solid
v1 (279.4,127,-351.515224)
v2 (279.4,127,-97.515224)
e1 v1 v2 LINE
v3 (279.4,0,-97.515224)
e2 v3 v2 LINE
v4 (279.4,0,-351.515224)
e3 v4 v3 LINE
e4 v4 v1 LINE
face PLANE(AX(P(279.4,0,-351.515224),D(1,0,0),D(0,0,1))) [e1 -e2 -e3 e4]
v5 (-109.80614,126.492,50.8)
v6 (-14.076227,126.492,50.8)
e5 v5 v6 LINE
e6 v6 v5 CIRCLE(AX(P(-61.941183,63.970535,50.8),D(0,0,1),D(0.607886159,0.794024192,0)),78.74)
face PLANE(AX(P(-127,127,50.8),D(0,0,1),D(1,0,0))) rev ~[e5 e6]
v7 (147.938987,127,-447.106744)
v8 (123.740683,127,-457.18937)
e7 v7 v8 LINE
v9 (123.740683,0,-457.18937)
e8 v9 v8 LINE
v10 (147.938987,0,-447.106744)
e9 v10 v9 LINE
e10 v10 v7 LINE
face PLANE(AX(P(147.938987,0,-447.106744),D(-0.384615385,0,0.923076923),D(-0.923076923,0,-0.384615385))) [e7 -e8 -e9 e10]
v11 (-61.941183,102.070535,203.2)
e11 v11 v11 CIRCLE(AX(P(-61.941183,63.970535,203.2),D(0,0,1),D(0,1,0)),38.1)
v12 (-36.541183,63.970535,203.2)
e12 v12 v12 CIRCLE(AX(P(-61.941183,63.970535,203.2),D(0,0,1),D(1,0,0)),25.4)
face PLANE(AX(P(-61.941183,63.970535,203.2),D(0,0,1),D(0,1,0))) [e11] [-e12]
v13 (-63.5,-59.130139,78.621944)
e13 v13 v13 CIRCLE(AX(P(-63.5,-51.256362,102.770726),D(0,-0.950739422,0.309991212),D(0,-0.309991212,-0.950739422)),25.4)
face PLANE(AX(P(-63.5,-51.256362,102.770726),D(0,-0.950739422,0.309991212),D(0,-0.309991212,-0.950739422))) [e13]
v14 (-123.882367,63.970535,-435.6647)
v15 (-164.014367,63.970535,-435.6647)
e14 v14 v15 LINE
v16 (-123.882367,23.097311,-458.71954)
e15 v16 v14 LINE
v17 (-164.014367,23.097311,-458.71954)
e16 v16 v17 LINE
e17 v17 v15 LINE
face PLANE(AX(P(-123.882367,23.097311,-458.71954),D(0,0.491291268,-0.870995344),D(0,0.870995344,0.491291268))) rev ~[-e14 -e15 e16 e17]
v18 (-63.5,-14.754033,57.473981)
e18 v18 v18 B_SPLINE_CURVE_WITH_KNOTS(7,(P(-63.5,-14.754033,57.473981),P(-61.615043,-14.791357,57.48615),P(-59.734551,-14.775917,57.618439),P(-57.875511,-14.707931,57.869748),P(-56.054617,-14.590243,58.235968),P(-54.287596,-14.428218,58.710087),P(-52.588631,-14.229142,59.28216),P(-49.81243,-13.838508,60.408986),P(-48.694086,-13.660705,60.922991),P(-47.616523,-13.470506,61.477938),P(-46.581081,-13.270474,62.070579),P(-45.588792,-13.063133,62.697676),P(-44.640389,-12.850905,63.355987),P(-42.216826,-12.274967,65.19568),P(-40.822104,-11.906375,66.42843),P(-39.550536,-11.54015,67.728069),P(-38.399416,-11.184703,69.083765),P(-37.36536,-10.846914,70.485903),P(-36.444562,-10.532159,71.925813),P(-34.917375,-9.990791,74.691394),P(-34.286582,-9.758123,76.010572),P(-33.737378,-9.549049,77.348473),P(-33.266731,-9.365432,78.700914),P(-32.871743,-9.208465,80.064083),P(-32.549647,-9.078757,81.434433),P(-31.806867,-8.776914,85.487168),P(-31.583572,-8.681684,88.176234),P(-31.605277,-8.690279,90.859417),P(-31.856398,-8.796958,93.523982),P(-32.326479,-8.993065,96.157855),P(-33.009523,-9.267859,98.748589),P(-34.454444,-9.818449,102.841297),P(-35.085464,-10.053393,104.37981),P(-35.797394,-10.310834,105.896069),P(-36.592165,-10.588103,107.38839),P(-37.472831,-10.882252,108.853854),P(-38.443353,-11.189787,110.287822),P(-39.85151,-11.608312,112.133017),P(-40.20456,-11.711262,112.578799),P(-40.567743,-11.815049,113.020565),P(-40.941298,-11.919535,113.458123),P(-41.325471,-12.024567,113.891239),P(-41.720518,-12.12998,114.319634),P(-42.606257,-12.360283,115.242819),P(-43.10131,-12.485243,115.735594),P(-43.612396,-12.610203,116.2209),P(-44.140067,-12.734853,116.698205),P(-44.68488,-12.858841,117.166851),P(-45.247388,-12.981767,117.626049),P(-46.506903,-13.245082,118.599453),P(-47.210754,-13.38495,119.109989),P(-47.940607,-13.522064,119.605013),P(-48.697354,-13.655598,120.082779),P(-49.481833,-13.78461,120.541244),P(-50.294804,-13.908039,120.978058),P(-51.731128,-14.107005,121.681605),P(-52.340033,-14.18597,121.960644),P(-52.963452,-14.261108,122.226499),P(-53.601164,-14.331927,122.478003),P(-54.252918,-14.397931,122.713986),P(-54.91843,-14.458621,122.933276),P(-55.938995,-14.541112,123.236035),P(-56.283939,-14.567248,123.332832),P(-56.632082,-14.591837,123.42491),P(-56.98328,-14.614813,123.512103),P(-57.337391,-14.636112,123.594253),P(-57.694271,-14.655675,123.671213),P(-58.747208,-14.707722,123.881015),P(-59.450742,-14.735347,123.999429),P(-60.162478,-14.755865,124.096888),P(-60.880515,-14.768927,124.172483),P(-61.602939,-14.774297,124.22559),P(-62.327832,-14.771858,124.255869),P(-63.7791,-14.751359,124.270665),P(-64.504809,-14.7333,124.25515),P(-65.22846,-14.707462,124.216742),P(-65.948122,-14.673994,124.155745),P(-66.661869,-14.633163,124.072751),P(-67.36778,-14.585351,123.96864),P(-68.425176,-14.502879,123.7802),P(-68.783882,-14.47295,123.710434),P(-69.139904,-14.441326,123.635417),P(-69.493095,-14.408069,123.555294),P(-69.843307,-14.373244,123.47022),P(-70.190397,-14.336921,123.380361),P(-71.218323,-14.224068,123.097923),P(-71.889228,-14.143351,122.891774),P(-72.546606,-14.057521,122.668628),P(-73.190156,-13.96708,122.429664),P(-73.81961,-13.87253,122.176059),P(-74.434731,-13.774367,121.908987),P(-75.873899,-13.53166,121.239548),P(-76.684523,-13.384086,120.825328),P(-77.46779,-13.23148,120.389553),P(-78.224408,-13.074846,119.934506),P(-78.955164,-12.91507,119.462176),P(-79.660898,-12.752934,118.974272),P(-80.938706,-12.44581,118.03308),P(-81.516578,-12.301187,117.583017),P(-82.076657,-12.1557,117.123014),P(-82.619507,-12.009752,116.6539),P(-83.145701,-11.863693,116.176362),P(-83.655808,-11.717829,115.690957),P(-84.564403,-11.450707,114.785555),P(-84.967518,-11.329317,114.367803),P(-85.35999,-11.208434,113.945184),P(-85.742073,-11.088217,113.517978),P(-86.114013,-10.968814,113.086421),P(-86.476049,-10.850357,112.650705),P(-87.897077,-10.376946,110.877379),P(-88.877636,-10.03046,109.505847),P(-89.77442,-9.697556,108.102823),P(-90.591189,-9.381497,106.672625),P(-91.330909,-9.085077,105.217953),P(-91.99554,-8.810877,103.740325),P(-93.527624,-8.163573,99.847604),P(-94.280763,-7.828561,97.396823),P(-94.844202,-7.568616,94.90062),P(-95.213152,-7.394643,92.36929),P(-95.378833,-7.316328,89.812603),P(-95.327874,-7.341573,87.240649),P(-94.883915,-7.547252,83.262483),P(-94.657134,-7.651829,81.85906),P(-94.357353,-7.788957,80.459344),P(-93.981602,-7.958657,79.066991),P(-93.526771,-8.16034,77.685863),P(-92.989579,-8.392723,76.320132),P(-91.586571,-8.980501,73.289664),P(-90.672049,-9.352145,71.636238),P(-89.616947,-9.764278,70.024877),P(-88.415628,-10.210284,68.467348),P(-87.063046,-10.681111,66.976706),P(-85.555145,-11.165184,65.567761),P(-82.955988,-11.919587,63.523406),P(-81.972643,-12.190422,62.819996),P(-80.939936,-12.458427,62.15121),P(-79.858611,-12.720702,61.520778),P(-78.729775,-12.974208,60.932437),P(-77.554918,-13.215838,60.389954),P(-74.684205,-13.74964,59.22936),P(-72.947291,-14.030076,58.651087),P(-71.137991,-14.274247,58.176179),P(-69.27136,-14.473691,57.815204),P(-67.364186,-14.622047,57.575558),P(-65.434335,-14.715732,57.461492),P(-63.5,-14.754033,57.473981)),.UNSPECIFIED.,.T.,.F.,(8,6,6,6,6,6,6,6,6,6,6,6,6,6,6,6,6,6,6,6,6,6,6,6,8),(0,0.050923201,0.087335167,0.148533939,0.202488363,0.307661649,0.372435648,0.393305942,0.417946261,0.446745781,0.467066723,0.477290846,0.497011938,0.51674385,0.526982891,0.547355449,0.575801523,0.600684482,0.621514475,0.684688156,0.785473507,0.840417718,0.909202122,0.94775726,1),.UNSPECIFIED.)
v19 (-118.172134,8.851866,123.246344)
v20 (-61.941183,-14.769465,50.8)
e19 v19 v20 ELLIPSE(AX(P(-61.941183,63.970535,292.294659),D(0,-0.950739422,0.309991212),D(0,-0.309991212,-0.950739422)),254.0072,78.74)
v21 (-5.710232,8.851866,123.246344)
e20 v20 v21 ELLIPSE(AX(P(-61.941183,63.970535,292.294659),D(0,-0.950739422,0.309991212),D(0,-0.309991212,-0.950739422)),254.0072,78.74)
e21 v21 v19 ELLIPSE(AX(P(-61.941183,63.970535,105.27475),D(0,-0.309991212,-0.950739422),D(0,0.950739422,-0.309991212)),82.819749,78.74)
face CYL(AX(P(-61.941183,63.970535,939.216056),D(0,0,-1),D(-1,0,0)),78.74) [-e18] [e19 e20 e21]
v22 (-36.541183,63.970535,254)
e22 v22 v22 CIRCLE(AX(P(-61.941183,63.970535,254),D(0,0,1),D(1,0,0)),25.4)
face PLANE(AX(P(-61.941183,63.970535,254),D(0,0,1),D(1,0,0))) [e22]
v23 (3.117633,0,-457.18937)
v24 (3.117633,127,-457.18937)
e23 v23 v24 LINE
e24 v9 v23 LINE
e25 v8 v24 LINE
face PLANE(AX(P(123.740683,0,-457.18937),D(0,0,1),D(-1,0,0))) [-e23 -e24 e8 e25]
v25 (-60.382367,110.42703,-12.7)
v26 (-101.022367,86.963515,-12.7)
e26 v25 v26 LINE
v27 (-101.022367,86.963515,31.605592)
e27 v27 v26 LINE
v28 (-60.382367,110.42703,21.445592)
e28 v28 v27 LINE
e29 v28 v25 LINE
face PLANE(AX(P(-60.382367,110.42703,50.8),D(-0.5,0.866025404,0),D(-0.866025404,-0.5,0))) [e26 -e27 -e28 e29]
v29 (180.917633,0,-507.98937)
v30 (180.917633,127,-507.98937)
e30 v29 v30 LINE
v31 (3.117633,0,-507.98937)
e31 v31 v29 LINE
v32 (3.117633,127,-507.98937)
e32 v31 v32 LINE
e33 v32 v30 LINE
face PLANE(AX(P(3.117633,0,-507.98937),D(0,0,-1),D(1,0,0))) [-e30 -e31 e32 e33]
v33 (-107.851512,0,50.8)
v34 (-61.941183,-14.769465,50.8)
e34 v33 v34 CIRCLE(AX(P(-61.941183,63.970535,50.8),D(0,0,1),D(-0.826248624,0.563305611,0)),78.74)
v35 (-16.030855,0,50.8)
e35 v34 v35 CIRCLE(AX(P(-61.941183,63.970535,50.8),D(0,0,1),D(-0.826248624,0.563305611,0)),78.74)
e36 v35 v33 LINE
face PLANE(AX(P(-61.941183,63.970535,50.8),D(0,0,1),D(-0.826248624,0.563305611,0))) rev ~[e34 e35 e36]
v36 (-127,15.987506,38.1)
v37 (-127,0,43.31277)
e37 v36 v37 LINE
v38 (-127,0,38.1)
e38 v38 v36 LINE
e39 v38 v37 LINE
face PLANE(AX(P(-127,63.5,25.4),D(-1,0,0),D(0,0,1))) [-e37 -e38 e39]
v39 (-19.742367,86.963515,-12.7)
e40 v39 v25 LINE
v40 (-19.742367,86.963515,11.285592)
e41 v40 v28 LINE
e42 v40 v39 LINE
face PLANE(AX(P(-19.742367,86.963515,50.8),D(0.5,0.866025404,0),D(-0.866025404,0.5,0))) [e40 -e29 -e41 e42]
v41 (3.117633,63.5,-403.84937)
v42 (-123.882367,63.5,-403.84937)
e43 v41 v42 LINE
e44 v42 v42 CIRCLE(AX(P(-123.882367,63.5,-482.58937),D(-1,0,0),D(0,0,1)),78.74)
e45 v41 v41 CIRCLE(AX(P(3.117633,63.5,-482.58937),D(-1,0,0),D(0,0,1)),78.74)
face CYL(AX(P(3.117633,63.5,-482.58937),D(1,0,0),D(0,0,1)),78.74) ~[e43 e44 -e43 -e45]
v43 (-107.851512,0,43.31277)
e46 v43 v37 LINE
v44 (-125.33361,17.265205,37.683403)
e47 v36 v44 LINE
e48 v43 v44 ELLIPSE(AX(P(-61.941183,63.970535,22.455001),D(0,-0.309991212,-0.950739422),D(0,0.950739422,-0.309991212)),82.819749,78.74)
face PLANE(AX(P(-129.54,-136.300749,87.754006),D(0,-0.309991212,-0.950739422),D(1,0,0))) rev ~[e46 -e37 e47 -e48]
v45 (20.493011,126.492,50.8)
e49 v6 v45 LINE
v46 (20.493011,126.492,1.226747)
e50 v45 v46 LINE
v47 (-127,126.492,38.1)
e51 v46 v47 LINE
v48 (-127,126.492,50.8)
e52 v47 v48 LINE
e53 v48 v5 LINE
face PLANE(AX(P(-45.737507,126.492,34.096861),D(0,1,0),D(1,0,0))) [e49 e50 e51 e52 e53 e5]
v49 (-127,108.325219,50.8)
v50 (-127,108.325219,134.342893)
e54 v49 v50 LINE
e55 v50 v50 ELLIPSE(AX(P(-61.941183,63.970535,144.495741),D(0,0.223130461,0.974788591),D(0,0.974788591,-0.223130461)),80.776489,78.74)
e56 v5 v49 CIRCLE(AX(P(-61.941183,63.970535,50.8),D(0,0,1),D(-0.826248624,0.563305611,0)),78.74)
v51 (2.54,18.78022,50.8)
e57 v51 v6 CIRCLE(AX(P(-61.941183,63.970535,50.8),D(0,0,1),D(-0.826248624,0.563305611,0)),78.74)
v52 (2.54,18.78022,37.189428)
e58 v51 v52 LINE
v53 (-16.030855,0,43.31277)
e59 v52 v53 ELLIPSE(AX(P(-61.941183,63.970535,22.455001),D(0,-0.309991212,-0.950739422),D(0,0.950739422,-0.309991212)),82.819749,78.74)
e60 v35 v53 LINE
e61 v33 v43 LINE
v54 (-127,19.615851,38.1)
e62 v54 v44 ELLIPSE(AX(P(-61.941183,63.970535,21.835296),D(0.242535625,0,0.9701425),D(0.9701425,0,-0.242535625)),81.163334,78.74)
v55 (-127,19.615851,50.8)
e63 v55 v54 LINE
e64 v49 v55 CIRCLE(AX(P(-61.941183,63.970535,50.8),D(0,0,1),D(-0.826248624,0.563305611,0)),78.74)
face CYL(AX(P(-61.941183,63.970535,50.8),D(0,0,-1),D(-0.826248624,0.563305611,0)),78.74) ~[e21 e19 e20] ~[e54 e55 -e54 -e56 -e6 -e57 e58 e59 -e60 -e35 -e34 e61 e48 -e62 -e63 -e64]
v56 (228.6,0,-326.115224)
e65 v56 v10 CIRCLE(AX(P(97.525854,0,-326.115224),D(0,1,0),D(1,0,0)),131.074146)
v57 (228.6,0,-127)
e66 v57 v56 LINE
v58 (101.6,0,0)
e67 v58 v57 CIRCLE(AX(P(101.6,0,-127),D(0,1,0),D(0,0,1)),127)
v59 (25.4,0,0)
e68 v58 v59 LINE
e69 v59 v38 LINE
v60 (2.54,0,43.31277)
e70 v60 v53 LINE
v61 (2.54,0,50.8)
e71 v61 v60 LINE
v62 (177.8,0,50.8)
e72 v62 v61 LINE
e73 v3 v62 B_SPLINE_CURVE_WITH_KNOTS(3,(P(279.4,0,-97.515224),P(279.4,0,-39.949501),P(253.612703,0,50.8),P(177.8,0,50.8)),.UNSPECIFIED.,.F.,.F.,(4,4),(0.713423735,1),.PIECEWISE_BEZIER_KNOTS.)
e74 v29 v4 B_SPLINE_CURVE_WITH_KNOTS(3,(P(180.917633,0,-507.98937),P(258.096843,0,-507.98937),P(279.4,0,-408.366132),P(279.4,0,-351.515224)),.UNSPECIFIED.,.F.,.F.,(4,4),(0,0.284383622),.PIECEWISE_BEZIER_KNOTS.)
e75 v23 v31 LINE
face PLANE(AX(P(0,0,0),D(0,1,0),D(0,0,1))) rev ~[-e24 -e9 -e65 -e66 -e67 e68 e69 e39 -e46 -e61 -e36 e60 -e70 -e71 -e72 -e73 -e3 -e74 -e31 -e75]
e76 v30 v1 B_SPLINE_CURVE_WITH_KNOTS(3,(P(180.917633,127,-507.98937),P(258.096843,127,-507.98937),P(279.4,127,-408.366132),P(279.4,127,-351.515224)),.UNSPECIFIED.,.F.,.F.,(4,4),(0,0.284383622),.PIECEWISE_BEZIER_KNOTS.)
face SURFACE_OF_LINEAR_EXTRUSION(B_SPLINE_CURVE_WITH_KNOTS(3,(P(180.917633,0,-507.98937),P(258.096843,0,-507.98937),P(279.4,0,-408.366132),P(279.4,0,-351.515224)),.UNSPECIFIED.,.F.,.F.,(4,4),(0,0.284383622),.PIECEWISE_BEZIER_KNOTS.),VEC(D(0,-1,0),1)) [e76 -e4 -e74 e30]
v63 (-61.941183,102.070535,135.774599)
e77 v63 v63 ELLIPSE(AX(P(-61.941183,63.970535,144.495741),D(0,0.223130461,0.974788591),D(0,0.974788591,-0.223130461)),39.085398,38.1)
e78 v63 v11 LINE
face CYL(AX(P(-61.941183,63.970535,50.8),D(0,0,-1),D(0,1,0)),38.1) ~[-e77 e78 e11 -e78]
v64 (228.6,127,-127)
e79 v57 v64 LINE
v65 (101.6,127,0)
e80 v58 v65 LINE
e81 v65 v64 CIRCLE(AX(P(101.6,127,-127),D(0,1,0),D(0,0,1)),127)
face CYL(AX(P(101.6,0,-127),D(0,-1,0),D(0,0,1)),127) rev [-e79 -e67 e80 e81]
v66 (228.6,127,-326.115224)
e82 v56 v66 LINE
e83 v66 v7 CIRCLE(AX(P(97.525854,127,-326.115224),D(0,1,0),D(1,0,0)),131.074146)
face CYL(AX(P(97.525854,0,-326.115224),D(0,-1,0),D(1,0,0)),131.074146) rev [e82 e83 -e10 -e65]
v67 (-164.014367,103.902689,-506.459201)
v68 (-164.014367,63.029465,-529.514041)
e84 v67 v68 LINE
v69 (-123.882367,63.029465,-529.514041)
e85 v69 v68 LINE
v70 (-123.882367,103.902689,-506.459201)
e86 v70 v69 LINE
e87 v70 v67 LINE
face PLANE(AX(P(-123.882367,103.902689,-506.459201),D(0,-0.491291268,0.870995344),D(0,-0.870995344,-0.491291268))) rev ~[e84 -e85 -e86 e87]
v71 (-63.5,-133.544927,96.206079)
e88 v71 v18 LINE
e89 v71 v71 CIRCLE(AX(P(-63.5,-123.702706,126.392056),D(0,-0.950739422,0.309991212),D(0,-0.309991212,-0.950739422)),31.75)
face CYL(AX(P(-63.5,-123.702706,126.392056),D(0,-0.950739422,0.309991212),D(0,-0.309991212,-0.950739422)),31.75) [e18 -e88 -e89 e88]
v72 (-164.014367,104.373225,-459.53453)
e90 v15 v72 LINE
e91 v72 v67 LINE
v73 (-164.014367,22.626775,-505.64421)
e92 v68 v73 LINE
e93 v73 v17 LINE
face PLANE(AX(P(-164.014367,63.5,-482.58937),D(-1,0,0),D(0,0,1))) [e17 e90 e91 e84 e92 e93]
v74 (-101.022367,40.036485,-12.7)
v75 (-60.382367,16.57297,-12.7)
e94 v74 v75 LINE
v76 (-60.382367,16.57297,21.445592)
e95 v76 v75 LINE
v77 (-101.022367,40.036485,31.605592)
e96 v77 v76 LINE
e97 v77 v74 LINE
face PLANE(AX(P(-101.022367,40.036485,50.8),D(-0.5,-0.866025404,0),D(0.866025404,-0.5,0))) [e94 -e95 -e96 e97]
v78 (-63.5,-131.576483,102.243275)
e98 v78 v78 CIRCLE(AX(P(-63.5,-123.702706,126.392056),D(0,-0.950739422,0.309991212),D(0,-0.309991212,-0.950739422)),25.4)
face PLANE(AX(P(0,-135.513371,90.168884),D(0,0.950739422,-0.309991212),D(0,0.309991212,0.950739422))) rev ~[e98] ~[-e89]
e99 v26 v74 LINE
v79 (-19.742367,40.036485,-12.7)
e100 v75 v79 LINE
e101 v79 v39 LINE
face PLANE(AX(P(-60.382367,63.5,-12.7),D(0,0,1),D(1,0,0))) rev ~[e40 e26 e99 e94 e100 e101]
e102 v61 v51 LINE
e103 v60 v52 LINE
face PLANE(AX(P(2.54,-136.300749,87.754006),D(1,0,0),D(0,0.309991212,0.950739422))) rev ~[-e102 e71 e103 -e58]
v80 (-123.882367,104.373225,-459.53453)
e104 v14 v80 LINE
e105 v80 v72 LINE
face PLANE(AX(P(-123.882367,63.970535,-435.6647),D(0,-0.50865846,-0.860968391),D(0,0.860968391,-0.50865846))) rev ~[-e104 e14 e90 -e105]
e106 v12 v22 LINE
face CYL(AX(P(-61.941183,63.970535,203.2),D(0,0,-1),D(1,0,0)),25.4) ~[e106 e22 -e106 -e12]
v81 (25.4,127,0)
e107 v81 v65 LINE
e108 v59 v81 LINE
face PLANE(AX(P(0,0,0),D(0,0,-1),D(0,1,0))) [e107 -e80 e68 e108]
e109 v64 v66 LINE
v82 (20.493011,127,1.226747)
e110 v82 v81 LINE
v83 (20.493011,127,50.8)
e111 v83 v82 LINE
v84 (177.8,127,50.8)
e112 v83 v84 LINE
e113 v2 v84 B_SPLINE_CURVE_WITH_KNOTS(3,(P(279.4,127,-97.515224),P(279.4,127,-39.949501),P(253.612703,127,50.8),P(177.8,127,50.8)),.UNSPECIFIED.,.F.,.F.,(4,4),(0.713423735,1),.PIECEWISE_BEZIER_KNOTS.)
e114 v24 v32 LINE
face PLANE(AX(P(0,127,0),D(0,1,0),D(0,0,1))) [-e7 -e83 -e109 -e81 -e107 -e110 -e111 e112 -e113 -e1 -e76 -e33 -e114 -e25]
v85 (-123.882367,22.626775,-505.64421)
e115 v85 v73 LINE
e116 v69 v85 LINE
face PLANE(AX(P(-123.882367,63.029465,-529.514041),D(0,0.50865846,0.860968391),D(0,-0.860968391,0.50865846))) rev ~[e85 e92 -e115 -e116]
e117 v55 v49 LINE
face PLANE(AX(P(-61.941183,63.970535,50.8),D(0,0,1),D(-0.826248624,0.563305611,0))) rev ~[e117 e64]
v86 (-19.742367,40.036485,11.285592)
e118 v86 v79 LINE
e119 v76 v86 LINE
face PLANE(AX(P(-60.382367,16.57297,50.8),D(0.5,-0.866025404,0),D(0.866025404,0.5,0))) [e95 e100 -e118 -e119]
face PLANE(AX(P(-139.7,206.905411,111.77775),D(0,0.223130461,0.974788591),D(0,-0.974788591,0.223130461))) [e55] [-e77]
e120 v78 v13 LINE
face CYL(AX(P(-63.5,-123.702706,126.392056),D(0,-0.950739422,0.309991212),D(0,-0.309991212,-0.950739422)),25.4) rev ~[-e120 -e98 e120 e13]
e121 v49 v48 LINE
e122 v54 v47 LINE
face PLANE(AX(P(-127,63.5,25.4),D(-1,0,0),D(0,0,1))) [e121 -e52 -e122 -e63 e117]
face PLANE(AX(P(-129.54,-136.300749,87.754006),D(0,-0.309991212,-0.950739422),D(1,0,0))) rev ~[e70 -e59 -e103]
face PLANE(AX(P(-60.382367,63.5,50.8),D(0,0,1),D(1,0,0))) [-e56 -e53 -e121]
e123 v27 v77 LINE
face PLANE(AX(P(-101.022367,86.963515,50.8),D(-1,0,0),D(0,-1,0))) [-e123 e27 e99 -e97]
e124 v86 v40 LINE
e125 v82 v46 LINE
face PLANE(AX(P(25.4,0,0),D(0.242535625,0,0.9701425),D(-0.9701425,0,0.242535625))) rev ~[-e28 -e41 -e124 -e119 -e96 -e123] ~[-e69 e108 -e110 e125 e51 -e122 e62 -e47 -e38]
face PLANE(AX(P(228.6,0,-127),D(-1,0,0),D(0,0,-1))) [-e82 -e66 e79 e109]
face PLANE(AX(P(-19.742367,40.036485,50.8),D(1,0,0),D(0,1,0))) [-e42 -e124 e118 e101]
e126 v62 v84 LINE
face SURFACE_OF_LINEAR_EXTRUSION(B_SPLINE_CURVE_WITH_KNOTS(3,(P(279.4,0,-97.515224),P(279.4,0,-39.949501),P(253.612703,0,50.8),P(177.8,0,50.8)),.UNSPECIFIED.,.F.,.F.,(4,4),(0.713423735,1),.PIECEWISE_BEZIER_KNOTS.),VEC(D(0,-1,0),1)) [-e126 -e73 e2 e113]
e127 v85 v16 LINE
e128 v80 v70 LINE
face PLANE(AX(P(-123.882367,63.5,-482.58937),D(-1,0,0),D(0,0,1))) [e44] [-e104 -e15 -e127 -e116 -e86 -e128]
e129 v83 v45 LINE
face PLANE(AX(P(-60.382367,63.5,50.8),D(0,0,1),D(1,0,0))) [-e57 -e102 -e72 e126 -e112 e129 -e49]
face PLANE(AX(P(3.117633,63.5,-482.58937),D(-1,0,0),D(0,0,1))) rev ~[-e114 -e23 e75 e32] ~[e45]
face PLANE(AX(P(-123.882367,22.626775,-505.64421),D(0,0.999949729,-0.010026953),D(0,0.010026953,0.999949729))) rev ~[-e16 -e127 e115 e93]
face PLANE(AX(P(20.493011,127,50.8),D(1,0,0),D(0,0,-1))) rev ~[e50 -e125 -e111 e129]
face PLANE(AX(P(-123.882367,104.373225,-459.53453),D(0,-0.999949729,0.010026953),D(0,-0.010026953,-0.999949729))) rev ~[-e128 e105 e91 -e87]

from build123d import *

# Parameters (mm, degrees)
BOSS_EXTRUDE1_DEPTH      = 127
SKETCH2_R                = 78.74
BOSS_EXTRUDE2_DEPTH      = 127
BOSS_EXTRUDE3_DEPTH      = 40.132
SKETCH4_W                = 50.8
SKETCH4_H                = 127
BOSS_EXTRUDE4_DEPTH      = 127
CUT_EXTRUDE1_DEPTH       = 643.951973118
BOSS_EXTRUDE6_DEPTH      = 63.5
BOSS_EXTRUDE7_DEPTH      = 0.254
SKETCH10_R               = 78.74
BOSS_EXTRUDE8_DEPTH      = 127
CUT_EXTRUDE4_DEPTH       = 1270
SKETCH12_R               = 38.1
BOSS_EXTRUDE9_DEPTH      = 152.4
SKETCH13_R               = 25.4
BOSS_EXTRUDE10_DEPTH     = 50.8
BOSS_EXTRUDE11_DEPTH     = 127
CUT_EXTRUDE16_DEPTH      = 0.508
CUT_EXTRUDE17_REACH      = 733.584
CUT_EXTRUDE17_END_RADIUS = 78.74
SKETCH25_W               = 132.08
SKETCH25_H               = 81.28
SKETCH25_R               = 31.75
SKETCH26_R               = 25.4
CUT_EXTRUDE18_DEPTH      = 76.2


with BuildPart() as part:
    # Sketch1 → Boss-Extrude1 (new body)
    with BuildSketch(Plane(origin=(0, 0, 0), x_dir=(1, 0, 0), z_dir=(0, 1, 0))):
        with BuildLine():
            Line((0, 0), (76.2, 0))
            Line((76.2, 0), (101.6, 0))
            ThreePointArc((101.6, 0), (191.402561211, 37.197438789), (228.6, 127))
            Line((228.6, 127), (228.6, 326.115224022))
            ThreePointArc((228.6, 326.115224022), (206.586135695, 398.822078741), (147.938986841, 447.106743761))
            Line((147.938986841, 447.106743761), (123.740682893, 457.189370406))
            Line((123.740682893, 457.189370406), (3.117633302, 457.189370406))
            Line((3.117633302, 457.189370406), (3.117633302, 507.989370406))
            Line((3.117633302, 507.989370406), (130.117633302, 507.989370406))
            Line((130.117633302, 507.989370406), (180.917633302, 507.989370406))
            add(Edge.make_bspline(
                [(180.917633302, 507.989370406), (258.096842752, 507.989370406), (279.4, 408.366132146), (279.4, 351.515224022)],
                knots=[0, 0, 0, 0, 0.284383622, 0.284383622, 0.284383622, 0.284383622], degree=3))
            Line((279.4, 351.515224022), (279.4, 97.515224022))
            add(Edge.make_bspline(
                [(279.4, 97.515224022), (279.4, 39.949501281), (253.612703292, -50.8), (177.8, -50.8)],
                knots=[0.713423735, 0.713423735, 0.713423735, 0.713423735, 1, 1, 1, 1], degree=3))
            Line((177.8, -50.8), (127, -50.8))
            Line((127, -50.8), (0, -50.8))
            Line((0, -50.8), (0, 0))
        make_face()
    extrude(amount=BOSS_EXTRUDE1_DEPTH)

    # Sketch2 → Boss-Extrude2 (add)
    with BuildSketch(Plane.ZY.offset(-3.117633302)):
        with Locations((-482.589370406, 63.5)):
            Circle(SKETCH2_R)
    extrude(amount=BOSS_EXTRUDE2_DEPTH)

    # Sketch3 → Boss-Extrude3 (add)
    with BuildSketch(Plane.ZY.offset(123.882366698)):
        Polygon((-435.664699602, 63.970535124), (-459.534530374, 104.373224542), (-506.459201178, 103.902689418), (-529.514041209, 63.029464876), (-505.644210437, 22.626775458), (-458.719539633, 23.097310582), align=None)
    extrude(amount=BOSS_EXTRUDE3_DEPTH)

    # Sketch4 → Boss-Extrude4 (add)
    with BuildSketch(Plane.ZY):
        with Locations((25.4, 63.5)):
            Rectangle(SKETCH4_W, SKETCH4_H)
    extrude(amount=BOSS_EXTRUDE4_DEPTH)

    # Sketch5 → Cut-Extrude1 (cut, through all)
    with BuildSketch(Plane(origin=(0, 0, 0), x_dir=(-1, 0, 0), z_dir=(0, -1, 0))):
        Polygon((127, -38.1), (127, 0), (-25.4, 0), align=None)
    extrude(amount=-CUT_EXTRUDE1_DEPTH, mode=Mode.SUBTRACT)

    # Sketch7 → Boss-Extrude6 (add)
    with BuildSketch(Plane.XY.offset(50.8)):
        Polygon((-60.382366698, 110.42702988), (-101.022366698, 86.96351494), (-101.022366698, 40.03648506), (-60.382366698, 16.57297012), (-19.742366698, 40.03648506), (-19.742366698, 86.96351494), align=None)
    extrude(amount=-BOSS_EXTRUDE6_DEPTH)

    # Sketch9 → Boss-Extrude7 (add)
    with BuildSketch(Plane.XY.offset(50.8)):
        Polygon((-61.941183349, 110.42702988), (-102.581183349, 86.96351494), (-102.581183349, 40.03648506), (-61.941183349, 16.57297012), (-21.301183349, 40.03648506), (-21.301183349, 86.96351494), align=None)
    extrude(amount=BOSS_EXTRUDE7_DEPTH)

    # Sketch10 → Boss-Extrude8 (add)
    with BuildSketch(Plane.XY.offset(50.8)):
        with Locations(Location((-61.941183349, 63.970535124, 0), (0, 0, 145.715287544))):
            Circle(SKETCH10_R)
    extrude(amount=BOSS_EXTRUDE8_DEPTH)

    # Sketch11 → Cut-Extrude4 (cut, symmetric)
    with BuildSketch(Plane(origin=(-139.7, 0, 0), x_dir=(0, 0, -1), z_dir=(1, 0, 0))):
        Polygon((-201.145745502, -18.230355882), (-201.145745502, 206.905410628), (-111.777750152, 206.905410628), (-201.145745502, -183.515968434), align=None)
    extrude(amount=CUT_EXTRUDE4_DEPTH, both=True, mode=Mode.SUBTRACT)

    # Sketch12 → Boss-Extrude9 (add)
    with BuildSketch(Plane.XY.offset(50.8)):
        with Locations(Location((-61.941183349, 63.970535124, 0), (0, 0, 90))):
            Circle(SKETCH12_R)
    extrude(amount=BOSS_EXTRUDE9_DEPTH)

    # Sketch13 → Boss-Extrude10 (add)
    with BuildSketch(Plane.XY.offset(203.2)):
        with Locations((-61.941183349, 63.970535124)):
            Circle(SKETCH13_R)
    extrude(amount=BOSS_EXTRUDE10_DEPTH)

    # Sketch18 → Boss-Extrude11 (add)
    with BuildSketch(Plane(origin=(0, 0, 0), x_dir=(0, 0, -1), z_dir=(1, 0, 0))):
        Polygon((-50.8, -14.769464876), (-90.168883972, -135.51337145), (-162.615227917, -111.892041067), (-123.246343944, 8.851865507), align=None)
    extrude(amount=-BOSS_EXTRUDE11_DEPTH)

    # Sketch24 → Cut-Extrude16 (cut)
    with BuildSketch(Plane(origin=(0, 127, 0), x_dir=(1, 0, 0), z_dir=(0, 1, 0))):
        Polygon((20.493010652, -50.8), (20.493010652, -1.226747337), (-127, -38.1), (-127, -50.8), align=None)
    extrude(amount=-CUT_EXTRUDE16_DEPTH, mode=Mode.SUBTRACT)

    # Cut-Extrude17: up to this cylinder (the profile starts outside it)
    cut_extrude17_end = Plane(origin=(-61.941183349, 63.970535124, 126.392056), z_dir=(0, 0, -1)) * Cylinder(CUT_EXTRUDE17_END_RADIUS, 1625.648, mode=Mode.PRIVATE)
    # Sketch25 → Cut-Extrude17 (cut, up to the surface)
    with BuildSketch(Plane(origin=(0, -149.065926338, 48.603356681), x_dir=(1, 0, 0), z_dir=(0, -0.950739421843146, 0.3099912123808683)), mode=Mode.PRIVATE) as cut_extrude17_sk1:
        with Locations((-63.5, 81.819158306)):
            Rectangle(SKETCH25_W, SKETCH25_H)
        with Locations(Location((-63.5, 81.819158306, 0), (0, 0, 270))):
            Circle(SKETCH25_R, mode=Mode.SUBTRACT)
    cut_extrude17_tool1 = extrude(cut_extrude17_sk1.sketch, amount=-CUT_EXTRUDE17_REACH, mode=Mode.PRIVATE) - cut_extrude17_end
    add(cut_extrude17_tool1.solids().sort_by_distance((0.989143, -123.702706, 126.392056))[0], mode=Mode.SUBTRACT)

    # Sketch26 → Cut-Extrude18 (cut)
    with BuildSketch(Plane(origin=(0, -149.065926338, 48.603356681), x_dir=(1, 0, 0), z_dir=(0, -0.950739421843146, 0.30999121238086846))):
        with Locations(Location((-63.5, 81.819158306, 0), (0, 0, 270))):
            Circle(SKETCH26_R)
    extrude(amount=-CUT_EXTRUDE18_DEPTH, mode=Mode.SUBTRACT)


solid = part.part
